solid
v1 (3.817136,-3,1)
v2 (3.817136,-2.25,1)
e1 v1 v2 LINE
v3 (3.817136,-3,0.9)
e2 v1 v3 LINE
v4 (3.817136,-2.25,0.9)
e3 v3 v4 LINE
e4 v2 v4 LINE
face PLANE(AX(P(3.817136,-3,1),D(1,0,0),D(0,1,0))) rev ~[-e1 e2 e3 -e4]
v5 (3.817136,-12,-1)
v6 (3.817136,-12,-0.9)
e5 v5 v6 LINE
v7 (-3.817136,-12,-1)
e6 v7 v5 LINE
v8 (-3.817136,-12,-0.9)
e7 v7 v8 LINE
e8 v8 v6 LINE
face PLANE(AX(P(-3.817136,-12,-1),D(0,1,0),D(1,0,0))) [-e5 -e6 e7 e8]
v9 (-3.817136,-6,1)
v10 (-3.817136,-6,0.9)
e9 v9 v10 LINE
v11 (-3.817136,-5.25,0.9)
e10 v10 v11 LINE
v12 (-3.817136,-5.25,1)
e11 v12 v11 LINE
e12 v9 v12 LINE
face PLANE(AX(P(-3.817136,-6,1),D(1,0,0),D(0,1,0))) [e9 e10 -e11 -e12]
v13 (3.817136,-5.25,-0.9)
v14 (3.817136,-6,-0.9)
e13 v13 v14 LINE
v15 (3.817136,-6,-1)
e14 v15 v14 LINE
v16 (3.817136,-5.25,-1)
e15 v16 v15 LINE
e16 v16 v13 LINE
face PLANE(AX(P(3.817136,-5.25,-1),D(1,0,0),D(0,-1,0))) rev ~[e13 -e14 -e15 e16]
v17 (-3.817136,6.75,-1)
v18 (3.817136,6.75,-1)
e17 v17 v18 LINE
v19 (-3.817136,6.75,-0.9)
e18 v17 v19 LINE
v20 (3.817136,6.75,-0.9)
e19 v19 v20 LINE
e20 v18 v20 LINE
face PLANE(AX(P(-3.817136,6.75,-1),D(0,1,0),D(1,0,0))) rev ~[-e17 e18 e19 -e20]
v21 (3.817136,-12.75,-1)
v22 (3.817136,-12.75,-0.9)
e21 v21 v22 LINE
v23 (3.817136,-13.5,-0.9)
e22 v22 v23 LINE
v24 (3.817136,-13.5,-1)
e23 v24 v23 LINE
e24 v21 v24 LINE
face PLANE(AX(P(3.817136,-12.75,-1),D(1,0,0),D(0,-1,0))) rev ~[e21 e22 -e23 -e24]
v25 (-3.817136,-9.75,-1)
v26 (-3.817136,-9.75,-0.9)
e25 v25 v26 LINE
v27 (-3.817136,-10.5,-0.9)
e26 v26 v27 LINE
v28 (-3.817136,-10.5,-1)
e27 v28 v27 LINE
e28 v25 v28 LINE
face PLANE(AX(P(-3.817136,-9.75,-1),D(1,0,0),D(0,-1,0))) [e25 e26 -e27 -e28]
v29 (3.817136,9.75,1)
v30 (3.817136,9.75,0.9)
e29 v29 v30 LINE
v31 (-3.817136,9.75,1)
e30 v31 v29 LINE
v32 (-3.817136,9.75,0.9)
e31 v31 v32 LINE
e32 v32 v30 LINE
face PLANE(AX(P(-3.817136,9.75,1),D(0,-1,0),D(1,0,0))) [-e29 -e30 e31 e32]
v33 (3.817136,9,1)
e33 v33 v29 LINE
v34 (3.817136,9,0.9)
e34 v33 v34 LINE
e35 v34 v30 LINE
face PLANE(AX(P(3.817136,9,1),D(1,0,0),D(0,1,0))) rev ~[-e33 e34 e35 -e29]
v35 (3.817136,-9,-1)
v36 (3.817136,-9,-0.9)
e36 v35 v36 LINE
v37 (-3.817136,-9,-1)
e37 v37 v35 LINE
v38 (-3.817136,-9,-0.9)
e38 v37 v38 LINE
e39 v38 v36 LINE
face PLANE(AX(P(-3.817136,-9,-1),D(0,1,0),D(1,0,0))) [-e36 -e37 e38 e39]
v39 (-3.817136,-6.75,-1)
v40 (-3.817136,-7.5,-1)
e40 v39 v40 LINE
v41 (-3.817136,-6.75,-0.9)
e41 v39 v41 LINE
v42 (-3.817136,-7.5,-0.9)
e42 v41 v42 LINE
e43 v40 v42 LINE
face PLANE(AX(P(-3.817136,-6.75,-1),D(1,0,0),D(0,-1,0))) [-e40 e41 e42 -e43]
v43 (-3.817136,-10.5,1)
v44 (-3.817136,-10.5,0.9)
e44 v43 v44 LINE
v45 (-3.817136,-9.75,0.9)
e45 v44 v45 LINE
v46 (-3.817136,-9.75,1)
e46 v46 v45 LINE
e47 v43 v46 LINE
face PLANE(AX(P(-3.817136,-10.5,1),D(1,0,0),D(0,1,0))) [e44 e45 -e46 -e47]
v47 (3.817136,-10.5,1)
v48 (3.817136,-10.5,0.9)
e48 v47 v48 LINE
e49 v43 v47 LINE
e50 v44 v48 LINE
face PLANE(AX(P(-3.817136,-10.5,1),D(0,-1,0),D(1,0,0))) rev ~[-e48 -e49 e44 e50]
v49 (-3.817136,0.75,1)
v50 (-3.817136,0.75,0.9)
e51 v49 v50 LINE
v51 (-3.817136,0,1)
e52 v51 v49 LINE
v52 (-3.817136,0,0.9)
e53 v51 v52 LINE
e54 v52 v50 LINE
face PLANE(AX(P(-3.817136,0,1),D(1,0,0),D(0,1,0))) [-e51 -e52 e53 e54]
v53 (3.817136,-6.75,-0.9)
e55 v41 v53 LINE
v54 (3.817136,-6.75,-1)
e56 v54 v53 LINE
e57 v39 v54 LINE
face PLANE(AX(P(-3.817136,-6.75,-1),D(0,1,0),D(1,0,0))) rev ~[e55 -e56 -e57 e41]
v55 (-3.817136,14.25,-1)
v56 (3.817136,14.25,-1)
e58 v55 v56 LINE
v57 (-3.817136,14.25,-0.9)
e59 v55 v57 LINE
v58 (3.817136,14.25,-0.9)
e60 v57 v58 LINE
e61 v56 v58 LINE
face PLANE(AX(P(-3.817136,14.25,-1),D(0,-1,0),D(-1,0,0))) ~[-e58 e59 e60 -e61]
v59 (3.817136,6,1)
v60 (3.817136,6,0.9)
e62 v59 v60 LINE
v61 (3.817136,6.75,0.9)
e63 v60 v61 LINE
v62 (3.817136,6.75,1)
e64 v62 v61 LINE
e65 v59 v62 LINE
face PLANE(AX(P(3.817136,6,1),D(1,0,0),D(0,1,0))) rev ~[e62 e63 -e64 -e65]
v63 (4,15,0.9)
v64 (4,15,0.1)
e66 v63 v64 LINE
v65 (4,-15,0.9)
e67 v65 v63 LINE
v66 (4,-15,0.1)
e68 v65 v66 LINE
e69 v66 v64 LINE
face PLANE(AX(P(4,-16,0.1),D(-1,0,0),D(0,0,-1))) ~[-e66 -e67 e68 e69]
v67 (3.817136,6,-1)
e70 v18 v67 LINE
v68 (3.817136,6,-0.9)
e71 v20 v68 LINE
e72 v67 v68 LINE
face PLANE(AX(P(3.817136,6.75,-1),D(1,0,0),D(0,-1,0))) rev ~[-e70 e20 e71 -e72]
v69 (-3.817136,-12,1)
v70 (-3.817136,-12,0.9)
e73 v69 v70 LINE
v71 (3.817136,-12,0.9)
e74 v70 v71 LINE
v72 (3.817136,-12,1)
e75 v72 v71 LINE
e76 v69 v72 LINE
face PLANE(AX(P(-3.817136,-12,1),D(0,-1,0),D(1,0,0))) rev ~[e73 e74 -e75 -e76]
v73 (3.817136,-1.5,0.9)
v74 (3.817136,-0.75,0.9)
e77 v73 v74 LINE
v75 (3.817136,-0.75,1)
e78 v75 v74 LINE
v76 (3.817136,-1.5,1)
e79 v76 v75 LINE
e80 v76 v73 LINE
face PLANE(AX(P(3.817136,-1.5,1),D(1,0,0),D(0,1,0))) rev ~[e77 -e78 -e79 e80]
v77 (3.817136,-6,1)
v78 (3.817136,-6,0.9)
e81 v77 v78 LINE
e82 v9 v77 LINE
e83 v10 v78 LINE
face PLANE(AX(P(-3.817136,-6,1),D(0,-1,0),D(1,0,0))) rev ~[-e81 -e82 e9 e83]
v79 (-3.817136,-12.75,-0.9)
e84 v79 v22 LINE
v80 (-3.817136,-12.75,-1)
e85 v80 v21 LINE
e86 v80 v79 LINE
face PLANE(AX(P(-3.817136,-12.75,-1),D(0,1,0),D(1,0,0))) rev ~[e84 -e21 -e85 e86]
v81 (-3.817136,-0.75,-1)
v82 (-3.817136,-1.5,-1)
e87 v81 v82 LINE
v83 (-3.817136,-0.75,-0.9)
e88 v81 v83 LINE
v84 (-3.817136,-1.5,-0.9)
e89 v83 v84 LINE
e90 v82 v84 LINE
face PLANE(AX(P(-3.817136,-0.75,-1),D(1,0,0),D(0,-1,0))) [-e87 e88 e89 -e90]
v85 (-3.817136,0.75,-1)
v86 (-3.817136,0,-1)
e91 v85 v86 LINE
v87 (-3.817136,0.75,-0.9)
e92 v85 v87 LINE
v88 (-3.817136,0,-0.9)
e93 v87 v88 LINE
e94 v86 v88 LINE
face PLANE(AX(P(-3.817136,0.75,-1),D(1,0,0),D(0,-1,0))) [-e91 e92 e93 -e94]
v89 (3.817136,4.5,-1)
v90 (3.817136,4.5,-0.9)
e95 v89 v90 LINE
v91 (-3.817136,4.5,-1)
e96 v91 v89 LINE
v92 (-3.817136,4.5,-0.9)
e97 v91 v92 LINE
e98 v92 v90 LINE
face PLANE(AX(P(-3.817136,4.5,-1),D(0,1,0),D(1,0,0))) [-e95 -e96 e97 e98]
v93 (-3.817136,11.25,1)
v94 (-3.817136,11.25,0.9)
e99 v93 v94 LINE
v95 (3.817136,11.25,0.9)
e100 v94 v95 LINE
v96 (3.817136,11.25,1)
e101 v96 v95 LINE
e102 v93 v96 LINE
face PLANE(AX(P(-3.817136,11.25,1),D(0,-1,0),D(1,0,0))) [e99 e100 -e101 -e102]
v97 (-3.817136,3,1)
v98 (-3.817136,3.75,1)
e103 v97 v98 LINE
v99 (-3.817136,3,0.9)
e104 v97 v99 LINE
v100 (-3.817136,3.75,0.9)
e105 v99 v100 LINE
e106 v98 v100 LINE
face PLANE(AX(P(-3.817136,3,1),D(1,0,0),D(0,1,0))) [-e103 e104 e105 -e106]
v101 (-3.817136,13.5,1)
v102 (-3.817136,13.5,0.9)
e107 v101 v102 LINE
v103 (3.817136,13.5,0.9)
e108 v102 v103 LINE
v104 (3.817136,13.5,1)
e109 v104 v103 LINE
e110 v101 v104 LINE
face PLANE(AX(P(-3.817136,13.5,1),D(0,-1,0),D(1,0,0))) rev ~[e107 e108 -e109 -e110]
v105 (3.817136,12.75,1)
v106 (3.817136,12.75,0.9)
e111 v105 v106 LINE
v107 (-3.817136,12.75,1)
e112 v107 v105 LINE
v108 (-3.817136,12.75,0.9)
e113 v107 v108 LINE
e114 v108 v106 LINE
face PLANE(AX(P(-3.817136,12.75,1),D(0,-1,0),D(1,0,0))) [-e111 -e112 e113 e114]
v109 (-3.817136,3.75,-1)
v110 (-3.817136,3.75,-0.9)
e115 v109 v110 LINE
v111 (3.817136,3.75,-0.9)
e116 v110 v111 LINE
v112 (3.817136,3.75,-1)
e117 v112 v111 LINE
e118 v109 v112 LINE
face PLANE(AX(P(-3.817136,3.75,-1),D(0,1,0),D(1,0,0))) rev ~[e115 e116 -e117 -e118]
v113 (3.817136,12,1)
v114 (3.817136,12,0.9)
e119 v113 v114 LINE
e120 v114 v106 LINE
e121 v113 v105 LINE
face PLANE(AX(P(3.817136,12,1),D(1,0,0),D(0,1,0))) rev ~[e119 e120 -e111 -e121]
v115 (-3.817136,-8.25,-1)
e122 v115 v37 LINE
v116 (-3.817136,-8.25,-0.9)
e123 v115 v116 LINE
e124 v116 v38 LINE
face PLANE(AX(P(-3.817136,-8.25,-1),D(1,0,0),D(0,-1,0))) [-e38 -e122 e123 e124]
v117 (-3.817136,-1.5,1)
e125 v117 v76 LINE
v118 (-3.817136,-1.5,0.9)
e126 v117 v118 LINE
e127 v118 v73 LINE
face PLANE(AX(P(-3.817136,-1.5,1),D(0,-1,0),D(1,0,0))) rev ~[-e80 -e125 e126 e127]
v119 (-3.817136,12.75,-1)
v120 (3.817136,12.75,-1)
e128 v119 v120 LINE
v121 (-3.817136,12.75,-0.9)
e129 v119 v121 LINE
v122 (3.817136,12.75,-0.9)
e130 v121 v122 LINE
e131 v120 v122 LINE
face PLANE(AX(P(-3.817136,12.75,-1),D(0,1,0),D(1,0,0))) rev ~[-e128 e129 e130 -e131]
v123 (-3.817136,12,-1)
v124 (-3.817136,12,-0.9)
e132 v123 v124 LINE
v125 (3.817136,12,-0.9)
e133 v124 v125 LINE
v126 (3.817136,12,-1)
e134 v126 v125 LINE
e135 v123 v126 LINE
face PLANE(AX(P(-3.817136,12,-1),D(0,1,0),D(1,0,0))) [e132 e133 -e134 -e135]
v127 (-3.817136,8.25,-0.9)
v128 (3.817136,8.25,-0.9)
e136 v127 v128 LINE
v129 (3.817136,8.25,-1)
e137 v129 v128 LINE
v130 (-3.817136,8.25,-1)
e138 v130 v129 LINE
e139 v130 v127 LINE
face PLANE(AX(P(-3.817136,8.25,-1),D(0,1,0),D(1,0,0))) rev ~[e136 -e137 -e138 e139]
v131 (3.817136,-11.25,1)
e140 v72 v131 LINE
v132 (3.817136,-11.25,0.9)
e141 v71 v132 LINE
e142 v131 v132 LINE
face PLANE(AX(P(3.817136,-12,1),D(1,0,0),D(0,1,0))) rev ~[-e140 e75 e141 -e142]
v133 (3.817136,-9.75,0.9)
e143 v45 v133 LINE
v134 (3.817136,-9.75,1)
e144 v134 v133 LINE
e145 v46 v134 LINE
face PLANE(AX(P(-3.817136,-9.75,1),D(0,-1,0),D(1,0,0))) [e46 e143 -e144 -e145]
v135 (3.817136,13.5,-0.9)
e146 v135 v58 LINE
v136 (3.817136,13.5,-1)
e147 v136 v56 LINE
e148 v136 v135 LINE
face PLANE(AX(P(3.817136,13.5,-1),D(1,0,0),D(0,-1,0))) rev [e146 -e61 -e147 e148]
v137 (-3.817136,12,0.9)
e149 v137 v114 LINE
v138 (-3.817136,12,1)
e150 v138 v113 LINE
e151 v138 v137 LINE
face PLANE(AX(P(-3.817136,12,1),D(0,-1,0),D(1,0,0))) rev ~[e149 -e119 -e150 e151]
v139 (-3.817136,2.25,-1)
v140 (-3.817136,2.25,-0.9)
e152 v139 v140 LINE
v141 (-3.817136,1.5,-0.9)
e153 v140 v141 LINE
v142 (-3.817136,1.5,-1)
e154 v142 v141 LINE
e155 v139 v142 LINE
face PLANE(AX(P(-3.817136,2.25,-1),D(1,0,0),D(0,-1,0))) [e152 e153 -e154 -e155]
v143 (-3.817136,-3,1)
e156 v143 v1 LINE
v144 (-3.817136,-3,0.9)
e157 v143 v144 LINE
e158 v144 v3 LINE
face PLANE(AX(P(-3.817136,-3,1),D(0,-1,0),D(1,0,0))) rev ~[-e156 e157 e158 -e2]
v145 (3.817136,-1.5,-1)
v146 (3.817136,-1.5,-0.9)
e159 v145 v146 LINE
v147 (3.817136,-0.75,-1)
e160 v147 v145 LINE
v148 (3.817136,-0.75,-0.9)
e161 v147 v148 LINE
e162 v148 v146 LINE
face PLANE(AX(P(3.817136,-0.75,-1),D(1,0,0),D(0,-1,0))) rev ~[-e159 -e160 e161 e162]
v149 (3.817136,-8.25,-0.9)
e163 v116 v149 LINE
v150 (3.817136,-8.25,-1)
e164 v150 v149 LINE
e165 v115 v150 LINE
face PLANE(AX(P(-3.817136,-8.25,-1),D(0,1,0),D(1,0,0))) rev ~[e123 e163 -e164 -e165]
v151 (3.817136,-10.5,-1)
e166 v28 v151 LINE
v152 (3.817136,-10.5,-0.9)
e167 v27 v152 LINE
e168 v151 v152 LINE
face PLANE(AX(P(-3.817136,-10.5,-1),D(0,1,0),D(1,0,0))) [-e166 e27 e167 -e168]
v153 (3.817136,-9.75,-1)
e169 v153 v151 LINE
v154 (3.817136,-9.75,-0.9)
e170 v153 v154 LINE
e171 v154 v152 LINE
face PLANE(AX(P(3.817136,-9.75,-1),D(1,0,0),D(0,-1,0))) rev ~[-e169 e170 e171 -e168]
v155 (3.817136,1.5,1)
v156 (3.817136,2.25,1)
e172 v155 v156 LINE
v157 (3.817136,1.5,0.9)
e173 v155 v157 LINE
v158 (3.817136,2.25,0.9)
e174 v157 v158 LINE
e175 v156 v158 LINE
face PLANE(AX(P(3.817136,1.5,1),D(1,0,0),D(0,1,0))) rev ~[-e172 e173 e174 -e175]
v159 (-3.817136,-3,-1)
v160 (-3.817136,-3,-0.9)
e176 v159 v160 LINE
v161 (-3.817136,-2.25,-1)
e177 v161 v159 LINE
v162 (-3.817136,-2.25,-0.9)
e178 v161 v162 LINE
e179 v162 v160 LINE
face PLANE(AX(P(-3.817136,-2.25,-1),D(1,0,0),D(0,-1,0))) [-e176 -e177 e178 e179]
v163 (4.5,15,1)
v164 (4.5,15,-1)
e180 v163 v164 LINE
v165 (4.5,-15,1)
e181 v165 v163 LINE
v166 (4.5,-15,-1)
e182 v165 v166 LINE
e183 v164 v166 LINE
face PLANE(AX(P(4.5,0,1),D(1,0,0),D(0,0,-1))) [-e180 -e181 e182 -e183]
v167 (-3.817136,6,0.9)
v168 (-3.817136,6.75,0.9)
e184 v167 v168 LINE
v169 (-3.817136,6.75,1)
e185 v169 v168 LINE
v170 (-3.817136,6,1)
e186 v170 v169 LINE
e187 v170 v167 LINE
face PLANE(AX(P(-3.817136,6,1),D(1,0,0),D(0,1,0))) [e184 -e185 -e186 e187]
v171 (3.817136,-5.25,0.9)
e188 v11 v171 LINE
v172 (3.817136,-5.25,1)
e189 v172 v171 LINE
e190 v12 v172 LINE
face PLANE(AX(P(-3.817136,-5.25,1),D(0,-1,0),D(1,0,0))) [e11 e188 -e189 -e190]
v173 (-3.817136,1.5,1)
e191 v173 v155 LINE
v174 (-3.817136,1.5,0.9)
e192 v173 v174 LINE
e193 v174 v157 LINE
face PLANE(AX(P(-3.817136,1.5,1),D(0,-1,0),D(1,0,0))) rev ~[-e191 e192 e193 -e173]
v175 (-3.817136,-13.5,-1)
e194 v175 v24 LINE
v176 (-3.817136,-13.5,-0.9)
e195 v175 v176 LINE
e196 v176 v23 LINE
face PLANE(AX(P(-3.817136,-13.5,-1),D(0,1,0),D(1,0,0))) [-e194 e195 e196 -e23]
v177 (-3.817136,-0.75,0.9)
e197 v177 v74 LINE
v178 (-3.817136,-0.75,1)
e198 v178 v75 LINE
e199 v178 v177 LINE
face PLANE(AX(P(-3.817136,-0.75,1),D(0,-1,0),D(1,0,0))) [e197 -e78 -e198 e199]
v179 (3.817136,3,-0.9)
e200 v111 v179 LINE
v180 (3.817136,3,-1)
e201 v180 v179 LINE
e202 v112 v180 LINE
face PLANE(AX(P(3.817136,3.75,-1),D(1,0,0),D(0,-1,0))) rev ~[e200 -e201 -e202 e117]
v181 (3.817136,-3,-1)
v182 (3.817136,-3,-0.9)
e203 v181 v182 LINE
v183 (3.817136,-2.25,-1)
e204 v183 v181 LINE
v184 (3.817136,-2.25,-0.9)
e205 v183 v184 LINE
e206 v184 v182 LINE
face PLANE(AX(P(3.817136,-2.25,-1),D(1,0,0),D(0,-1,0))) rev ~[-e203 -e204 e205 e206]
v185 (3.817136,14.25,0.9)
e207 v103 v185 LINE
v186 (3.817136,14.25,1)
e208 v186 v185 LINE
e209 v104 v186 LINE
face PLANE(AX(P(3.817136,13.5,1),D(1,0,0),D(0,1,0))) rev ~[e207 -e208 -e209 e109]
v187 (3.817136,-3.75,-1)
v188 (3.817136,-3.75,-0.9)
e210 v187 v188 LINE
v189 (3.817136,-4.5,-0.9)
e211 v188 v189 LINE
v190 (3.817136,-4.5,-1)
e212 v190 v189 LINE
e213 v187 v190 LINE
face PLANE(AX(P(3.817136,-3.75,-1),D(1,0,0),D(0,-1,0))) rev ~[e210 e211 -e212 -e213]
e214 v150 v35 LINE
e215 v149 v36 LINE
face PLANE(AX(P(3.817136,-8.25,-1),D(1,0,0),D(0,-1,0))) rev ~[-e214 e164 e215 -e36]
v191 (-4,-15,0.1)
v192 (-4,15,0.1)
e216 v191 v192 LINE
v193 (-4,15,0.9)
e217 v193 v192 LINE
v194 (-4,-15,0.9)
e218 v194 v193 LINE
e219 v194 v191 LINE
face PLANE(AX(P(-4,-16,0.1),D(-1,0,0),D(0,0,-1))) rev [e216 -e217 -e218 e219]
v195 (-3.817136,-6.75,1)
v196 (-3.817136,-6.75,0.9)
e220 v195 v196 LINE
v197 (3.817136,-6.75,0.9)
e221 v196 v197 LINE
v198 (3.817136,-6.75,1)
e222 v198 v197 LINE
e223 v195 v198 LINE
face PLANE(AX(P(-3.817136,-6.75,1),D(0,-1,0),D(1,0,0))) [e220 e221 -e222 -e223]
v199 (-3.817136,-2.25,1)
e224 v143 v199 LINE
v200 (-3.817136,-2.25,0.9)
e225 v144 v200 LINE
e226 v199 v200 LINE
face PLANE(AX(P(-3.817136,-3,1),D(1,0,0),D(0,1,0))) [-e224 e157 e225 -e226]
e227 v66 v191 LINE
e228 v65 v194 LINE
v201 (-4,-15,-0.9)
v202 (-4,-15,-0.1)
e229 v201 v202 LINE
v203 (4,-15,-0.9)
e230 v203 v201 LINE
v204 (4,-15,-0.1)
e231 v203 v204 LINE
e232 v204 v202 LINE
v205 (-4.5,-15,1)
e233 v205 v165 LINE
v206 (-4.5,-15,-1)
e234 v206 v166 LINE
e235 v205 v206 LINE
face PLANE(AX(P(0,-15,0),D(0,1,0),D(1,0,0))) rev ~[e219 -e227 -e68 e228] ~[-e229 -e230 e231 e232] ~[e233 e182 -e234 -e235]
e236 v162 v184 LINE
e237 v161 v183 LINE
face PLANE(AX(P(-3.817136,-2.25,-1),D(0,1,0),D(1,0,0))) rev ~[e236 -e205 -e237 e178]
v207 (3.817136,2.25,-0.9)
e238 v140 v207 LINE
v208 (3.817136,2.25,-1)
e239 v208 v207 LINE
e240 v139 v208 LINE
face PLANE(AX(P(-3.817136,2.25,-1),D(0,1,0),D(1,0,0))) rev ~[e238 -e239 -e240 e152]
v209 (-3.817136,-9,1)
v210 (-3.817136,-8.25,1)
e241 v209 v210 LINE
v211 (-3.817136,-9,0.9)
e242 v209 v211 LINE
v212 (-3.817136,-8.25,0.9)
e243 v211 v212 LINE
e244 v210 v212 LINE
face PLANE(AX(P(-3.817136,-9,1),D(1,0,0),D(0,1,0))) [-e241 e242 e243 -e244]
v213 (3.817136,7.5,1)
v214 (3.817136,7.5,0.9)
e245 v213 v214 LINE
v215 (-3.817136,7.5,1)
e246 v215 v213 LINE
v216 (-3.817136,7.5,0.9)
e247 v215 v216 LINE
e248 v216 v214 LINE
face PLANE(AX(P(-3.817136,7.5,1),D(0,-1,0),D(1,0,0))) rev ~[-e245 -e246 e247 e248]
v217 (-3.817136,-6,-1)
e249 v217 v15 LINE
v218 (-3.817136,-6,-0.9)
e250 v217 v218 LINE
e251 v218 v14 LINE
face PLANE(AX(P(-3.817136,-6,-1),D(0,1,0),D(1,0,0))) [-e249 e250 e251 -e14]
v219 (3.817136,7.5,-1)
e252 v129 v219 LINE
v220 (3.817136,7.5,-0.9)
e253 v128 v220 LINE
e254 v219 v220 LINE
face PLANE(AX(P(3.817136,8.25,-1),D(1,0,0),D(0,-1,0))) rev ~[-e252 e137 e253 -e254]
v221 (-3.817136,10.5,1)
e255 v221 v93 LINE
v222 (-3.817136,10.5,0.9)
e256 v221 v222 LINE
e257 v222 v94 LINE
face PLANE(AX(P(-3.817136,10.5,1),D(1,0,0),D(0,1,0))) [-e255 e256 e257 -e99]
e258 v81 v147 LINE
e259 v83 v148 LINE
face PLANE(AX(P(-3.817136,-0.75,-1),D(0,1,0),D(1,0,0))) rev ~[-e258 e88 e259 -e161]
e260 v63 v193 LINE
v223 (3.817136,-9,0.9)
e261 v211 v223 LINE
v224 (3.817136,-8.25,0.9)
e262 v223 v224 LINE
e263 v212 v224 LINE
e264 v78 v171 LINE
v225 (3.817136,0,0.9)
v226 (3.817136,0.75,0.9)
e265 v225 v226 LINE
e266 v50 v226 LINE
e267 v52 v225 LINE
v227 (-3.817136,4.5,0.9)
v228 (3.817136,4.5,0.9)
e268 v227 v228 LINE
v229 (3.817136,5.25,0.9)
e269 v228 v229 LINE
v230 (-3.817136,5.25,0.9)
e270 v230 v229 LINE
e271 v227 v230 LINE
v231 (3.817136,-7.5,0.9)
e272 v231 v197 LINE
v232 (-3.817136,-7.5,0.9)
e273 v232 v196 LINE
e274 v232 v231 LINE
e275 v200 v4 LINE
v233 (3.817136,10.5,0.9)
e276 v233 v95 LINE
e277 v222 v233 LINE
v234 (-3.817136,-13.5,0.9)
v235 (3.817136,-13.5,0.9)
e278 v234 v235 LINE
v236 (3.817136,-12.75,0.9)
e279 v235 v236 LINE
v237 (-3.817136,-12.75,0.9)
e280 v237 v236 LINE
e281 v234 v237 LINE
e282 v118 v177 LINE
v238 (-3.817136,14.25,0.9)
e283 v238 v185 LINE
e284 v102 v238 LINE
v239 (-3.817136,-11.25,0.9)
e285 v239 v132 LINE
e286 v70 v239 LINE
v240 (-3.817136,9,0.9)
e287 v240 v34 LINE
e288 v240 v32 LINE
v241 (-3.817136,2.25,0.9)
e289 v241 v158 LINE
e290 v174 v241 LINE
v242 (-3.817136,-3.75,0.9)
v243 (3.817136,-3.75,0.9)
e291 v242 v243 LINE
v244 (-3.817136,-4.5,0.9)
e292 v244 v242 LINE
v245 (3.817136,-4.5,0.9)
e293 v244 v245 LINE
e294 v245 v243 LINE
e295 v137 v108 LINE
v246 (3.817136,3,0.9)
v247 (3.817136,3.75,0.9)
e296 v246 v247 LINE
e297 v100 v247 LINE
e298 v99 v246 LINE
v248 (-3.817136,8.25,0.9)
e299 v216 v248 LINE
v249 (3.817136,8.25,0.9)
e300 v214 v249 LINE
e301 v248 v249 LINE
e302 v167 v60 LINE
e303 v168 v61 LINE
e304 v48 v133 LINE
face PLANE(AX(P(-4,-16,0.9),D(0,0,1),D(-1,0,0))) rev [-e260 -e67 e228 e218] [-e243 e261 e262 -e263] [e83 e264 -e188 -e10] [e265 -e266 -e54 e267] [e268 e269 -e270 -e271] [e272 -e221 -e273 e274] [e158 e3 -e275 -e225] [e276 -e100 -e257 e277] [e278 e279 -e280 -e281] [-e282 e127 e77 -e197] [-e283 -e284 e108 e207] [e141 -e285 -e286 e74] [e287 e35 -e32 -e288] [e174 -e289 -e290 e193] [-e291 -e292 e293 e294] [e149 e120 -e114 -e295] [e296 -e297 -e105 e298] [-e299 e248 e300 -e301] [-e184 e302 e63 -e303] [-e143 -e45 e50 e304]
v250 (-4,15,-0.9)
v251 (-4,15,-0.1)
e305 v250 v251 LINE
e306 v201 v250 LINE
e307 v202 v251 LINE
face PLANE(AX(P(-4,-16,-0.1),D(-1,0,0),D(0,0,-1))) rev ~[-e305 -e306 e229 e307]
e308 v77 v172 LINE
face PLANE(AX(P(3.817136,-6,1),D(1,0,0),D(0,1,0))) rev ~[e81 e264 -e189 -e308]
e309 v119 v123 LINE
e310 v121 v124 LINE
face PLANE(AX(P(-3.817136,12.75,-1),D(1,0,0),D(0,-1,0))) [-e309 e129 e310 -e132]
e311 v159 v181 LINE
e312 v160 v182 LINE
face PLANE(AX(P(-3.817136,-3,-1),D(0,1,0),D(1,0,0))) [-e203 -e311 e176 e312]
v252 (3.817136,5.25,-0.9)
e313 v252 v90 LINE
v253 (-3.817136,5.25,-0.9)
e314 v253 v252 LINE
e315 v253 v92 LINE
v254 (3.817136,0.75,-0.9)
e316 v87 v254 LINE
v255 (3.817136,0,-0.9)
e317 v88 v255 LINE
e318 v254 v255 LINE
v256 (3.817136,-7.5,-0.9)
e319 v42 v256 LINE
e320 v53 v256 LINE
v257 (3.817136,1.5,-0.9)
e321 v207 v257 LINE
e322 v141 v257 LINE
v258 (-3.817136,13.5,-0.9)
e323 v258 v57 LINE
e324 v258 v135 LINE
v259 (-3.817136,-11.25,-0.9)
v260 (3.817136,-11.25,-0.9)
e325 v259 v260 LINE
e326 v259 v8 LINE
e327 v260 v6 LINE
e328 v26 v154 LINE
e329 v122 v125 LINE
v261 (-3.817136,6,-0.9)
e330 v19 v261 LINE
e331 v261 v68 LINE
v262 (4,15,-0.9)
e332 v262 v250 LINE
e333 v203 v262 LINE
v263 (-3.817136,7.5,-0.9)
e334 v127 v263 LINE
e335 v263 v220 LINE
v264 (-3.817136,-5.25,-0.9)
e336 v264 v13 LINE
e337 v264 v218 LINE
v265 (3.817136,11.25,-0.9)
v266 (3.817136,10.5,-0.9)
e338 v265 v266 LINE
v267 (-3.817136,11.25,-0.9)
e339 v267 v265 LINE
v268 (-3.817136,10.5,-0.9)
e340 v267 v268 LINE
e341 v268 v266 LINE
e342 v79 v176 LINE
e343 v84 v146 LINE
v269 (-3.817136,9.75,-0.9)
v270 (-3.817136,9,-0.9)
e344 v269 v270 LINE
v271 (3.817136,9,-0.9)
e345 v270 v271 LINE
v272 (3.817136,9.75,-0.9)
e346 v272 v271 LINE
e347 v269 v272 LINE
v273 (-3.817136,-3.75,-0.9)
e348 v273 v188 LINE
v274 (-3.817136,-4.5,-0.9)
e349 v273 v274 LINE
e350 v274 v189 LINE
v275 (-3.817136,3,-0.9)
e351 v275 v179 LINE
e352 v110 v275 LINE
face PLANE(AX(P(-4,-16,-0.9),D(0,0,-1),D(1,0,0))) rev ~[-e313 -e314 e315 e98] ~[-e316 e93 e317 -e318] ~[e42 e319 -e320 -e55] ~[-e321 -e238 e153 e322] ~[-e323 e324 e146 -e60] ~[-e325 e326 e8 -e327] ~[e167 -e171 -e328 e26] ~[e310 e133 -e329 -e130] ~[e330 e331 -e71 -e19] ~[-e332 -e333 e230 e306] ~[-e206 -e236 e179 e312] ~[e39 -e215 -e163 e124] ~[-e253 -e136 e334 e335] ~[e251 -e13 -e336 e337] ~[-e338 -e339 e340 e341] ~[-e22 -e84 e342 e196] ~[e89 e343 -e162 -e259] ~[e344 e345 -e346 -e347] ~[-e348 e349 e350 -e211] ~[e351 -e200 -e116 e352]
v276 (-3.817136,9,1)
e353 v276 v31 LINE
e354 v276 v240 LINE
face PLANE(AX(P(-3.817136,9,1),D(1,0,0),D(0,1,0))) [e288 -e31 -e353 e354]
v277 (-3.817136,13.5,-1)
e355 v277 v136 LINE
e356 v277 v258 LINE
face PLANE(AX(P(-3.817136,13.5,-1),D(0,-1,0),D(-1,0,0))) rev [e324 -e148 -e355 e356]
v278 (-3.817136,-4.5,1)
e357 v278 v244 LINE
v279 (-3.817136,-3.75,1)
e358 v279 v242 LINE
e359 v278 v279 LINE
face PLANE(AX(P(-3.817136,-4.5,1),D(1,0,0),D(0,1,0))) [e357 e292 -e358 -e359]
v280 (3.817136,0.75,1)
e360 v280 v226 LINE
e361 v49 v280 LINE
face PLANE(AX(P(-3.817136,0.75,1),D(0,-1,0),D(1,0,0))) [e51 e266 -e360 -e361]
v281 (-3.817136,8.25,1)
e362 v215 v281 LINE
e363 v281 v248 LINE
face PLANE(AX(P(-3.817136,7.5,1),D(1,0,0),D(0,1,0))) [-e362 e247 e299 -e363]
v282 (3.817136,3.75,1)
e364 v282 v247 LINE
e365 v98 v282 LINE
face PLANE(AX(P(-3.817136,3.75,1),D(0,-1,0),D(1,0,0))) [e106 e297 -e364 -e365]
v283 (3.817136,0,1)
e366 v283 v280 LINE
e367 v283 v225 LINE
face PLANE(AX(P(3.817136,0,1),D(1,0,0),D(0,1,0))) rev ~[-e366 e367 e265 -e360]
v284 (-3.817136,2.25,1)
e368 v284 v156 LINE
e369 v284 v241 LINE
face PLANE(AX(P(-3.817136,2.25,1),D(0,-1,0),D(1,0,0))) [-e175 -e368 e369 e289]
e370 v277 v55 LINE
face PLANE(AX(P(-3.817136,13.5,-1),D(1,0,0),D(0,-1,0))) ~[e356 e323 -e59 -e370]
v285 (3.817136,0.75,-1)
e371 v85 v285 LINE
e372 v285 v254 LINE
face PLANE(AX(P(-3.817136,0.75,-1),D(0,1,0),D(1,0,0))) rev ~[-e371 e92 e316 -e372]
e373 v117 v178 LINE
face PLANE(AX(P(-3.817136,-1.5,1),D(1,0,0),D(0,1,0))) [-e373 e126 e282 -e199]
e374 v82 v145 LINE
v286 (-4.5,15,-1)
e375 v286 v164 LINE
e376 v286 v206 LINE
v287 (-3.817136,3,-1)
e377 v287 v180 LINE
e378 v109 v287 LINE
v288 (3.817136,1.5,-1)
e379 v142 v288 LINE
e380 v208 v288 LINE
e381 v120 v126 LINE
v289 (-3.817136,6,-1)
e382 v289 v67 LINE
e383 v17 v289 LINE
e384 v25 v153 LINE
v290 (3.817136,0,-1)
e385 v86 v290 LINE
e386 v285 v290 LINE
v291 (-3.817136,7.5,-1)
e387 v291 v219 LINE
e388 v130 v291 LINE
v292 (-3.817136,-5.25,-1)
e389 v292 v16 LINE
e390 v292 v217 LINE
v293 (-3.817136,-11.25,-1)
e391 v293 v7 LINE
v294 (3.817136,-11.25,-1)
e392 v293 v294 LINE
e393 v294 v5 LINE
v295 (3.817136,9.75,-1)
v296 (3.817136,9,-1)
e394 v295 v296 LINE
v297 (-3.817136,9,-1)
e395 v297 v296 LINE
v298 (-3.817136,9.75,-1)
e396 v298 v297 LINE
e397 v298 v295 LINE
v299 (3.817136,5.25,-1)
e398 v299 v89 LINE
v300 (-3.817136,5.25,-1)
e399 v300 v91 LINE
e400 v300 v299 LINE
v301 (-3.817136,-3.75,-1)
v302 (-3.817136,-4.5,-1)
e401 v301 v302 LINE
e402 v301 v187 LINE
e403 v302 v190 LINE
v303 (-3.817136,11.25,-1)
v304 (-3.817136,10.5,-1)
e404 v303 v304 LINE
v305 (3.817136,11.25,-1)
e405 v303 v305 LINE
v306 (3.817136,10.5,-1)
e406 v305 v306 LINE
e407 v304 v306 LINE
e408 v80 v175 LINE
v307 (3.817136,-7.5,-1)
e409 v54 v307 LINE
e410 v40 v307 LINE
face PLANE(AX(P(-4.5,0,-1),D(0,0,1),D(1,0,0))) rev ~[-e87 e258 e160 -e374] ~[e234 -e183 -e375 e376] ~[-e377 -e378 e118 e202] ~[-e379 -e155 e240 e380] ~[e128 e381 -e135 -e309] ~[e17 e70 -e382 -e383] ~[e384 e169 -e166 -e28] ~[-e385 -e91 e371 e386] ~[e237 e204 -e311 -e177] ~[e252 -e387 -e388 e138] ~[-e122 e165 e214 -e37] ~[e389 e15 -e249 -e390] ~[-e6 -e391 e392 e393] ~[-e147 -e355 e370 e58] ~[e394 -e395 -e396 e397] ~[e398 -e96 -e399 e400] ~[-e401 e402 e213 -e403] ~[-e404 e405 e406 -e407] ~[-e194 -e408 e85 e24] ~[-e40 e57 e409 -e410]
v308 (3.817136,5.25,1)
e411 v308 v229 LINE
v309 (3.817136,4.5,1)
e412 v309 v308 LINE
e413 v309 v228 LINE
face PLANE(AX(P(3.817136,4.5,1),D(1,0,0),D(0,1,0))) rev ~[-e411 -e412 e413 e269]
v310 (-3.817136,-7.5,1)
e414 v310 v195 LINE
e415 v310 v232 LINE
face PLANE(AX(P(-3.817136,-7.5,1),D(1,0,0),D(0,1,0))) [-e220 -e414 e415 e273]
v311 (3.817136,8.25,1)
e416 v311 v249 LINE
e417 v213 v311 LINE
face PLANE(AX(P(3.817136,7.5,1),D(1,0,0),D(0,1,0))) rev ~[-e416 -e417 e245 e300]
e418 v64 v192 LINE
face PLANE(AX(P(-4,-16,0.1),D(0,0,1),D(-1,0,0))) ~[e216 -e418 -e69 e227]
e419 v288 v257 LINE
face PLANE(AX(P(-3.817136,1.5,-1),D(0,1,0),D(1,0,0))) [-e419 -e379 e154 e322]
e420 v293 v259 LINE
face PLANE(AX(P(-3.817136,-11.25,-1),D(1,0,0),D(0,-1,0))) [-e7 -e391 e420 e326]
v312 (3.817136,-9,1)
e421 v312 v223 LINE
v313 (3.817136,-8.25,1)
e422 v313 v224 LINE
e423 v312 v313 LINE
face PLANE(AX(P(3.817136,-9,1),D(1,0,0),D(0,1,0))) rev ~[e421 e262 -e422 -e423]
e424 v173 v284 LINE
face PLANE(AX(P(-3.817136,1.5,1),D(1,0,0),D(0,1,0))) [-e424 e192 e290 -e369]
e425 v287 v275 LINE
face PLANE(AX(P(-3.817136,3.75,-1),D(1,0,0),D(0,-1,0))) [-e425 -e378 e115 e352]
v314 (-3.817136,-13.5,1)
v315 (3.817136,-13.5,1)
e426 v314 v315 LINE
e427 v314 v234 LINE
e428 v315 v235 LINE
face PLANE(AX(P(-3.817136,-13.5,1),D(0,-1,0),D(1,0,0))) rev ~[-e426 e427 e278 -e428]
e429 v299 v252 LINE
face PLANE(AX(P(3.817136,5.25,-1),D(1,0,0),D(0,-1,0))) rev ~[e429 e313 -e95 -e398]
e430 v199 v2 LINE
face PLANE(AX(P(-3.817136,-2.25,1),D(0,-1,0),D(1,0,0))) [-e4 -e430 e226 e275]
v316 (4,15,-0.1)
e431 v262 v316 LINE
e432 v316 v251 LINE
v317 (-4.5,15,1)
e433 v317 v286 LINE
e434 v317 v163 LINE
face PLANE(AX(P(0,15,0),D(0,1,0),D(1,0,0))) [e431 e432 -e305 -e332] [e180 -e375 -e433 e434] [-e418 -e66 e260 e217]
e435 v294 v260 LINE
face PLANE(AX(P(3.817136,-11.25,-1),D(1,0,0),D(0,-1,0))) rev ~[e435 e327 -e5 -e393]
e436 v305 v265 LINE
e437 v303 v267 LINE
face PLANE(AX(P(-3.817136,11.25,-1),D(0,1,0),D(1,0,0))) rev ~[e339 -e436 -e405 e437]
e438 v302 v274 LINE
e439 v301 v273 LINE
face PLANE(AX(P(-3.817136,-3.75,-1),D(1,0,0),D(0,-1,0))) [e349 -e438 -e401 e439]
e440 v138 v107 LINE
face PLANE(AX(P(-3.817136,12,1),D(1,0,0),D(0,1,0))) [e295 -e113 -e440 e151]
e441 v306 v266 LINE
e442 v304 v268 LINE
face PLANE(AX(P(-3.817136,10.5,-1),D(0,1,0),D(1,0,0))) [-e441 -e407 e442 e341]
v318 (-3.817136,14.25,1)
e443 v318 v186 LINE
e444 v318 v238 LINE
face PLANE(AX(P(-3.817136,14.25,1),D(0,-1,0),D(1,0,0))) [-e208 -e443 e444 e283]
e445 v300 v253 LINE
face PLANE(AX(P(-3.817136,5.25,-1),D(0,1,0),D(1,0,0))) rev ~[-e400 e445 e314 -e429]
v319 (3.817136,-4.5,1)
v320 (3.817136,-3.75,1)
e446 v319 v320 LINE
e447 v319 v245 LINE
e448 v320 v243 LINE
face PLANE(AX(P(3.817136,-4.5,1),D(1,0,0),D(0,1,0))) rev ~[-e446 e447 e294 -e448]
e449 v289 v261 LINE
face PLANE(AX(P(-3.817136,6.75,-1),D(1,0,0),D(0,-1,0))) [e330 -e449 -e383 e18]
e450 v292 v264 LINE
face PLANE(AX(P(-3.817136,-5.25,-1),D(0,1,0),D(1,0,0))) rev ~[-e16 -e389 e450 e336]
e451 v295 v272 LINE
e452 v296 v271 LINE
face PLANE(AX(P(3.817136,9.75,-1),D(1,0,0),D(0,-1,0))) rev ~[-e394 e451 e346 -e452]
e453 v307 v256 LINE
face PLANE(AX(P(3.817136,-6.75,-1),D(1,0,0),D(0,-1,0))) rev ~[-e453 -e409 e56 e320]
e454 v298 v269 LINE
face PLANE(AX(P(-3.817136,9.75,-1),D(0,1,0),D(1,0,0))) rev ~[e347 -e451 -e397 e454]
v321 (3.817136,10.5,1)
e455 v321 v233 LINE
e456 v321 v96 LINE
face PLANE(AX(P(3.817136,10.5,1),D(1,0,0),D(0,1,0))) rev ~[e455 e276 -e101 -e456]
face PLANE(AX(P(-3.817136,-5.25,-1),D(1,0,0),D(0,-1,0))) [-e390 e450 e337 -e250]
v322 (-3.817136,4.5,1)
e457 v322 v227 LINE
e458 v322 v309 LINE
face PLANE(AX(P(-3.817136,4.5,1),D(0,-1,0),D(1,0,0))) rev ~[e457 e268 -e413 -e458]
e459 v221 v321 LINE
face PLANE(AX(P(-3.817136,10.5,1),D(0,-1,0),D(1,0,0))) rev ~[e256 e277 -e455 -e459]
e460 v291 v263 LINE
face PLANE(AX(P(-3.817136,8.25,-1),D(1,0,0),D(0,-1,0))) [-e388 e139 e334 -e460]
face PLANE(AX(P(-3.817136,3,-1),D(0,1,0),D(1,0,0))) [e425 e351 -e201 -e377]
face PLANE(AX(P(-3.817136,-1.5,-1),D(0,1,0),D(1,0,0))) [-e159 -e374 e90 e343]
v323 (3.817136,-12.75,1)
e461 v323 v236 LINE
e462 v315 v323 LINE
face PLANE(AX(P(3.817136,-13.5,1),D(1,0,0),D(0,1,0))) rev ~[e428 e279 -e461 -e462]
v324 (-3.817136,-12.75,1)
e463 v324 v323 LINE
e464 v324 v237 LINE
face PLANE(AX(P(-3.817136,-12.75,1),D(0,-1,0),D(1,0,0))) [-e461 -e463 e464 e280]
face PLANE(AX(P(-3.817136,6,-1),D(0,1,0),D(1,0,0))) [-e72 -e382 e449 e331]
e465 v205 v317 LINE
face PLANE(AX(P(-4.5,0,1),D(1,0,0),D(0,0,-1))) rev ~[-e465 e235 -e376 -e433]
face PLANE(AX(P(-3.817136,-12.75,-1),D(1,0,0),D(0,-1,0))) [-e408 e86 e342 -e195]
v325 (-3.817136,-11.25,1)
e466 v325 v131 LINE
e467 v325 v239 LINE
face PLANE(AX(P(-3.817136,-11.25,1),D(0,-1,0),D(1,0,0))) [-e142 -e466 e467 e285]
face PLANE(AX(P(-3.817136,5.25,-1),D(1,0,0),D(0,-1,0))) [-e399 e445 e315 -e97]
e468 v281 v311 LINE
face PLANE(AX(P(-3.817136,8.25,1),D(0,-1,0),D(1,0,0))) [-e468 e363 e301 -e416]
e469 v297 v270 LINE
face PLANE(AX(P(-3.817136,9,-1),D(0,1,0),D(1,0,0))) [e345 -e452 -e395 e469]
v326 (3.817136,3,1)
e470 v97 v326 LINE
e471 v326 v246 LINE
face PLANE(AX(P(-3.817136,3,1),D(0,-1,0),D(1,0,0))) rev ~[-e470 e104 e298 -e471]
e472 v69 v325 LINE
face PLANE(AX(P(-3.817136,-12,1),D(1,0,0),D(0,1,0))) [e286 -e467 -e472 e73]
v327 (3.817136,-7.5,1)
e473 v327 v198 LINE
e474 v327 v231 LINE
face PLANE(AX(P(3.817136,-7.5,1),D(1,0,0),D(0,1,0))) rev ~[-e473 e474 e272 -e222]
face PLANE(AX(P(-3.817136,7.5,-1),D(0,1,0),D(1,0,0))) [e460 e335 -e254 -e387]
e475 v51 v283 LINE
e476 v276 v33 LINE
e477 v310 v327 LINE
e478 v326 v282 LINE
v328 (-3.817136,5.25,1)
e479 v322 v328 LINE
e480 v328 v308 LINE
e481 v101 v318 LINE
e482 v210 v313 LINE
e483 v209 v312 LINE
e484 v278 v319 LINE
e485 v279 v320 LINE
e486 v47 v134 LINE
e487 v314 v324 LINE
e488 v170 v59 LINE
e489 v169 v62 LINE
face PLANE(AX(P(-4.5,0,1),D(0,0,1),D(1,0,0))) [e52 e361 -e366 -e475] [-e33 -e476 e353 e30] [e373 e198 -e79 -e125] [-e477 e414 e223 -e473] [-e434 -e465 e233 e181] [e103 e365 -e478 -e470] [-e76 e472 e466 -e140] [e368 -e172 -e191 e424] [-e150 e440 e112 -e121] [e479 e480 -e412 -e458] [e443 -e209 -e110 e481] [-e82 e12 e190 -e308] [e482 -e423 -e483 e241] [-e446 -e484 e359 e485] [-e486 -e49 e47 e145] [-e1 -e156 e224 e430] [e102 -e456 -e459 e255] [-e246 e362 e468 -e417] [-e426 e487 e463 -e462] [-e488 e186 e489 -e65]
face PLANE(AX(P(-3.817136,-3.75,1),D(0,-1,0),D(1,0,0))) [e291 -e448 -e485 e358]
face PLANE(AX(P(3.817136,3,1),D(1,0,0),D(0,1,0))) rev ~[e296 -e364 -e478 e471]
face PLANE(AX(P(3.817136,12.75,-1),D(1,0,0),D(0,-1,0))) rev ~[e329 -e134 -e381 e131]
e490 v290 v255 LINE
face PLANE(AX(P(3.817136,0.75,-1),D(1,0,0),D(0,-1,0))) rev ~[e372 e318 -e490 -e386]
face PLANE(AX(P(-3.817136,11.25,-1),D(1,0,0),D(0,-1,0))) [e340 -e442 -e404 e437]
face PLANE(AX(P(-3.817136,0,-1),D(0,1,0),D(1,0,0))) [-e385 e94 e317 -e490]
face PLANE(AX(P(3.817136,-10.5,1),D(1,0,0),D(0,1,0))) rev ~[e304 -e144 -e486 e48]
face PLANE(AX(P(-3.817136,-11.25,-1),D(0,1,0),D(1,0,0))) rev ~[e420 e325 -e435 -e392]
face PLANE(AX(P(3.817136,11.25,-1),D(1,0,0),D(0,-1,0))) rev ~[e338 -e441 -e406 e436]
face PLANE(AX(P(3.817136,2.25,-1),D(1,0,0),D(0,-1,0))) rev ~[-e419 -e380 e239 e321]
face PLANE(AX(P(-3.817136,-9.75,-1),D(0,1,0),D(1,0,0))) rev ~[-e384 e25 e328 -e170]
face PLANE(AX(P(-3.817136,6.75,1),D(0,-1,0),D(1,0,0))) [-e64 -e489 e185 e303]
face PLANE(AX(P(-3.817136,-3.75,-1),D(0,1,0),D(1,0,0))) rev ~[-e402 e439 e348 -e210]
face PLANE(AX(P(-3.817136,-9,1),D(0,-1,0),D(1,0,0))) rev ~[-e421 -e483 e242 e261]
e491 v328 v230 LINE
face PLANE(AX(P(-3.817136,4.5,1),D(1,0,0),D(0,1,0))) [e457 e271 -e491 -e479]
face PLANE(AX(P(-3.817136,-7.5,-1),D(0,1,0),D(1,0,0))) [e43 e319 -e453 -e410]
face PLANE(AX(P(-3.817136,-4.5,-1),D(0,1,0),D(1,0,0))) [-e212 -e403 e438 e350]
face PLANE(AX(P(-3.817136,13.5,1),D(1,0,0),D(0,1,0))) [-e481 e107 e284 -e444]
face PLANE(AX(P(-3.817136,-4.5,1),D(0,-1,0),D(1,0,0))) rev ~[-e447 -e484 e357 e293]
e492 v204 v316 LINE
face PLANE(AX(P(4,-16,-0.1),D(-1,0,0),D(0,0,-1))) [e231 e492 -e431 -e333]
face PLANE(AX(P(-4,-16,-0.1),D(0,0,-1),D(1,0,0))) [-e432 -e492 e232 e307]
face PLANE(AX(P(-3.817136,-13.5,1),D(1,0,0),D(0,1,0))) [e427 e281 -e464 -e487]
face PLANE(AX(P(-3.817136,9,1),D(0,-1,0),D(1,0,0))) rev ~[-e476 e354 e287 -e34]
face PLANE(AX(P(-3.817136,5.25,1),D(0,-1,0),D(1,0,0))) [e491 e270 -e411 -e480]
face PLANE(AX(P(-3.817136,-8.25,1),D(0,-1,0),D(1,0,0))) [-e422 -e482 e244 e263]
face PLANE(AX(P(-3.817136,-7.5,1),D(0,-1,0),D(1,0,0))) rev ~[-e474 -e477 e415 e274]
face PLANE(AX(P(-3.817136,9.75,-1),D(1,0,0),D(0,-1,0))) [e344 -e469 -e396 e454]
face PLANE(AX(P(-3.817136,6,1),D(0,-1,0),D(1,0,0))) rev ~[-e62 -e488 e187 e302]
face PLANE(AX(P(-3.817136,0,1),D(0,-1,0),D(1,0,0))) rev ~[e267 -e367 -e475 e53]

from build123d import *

# Parameters (mm, degrees)
SKETCH1_W                = 9
SKETCH1_H                = 2
BOSS_EXTRUDE1_DEPTH      = 15
CUT_EXTRUDE1_START       = -31
SKETCH2_W                = 8
SKETCH2_H                = 0.8
CUT_EXTRUDE1_DEPTH       = 32
SKETCH3_W                = 7.634272068
SKETCH3_H                = 0.75
CUT_EXTRUDE2_DEPTH       = 0.1
LPATTERN1_COUNT          = 19
LPATTERN1_PITCH          = 1.5
MIRROR2_COPY_1_SKETCH_W  = 7.634272068
MIRROR2_COPY_1_SKETCH_H  = 0.75
MIRROR2_COPY_1_DEPTH     = 0.1
MIRROR2_COPY_2_SKETCH_W  = 7.634272068
MIRROR2_COPY_2_SKETCH_H  = 0.75
MIRROR2_COPY_2_DEPTH     = 0.1
MIRROR2_COPY_3_SKETCH_W  = 7.634272068
MIRROR2_COPY_3_SKETCH_H  = 0.75
MIRROR2_COPY_3_DEPTH     = 0.1
MIRROR2_COPY_4_SKETCH_W  = 7.634272068
MIRROR2_COPY_4_SKETCH_H  = 0.75
MIRROR2_COPY_4_DEPTH     = 0.1
MIRROR2_COPY_5_SKETCH_W  = 7.634272068
MIRROR2_COPY_5_SKETCH_H  = 0.75
MIRROR2_COPY_5_DEPTH     = 0.1
MIRROR2_COPY_6_SKETCH_W  = 7.634272068
MIRROR2_COPY_6_SKETCH_H  = 0.75
MIRROR2_COPY_6_DEPTH     = 0.1
MIRROR2_COPY_7_SKETCH_W  = 7.634272068
MIRROR2_COPY_7_SKETCH_H  = 0.75
MIRROR2_COPY_7_DEPTH     = 0.1
MIRROR2_COPY_8_SKETCH_W  = 7.634272068
MIRROR2_COPY_8_SKETCH_H  = 0.75
MIRROR2_COPY_8_DEPTH     = 0.1
MIRROR2_COPY_9_SKETCH_W  = 7.634272068
MIRROR2_COPY_9_SKETCH_H  = 0.75
MIRROR2_COPY_9_DEPTH     = 0.1
MIRROR2_COPY_10_SKETCH_W = 7.634272068
MIRROR2_COPY_10_SKETCH_H = 0.75
MIRROR2_COPY_10_DEPTH    = 0.1
MIRROR2_COPY_11_SKETCH_W = 7.634272068
MIRROR2_COPY_11_SKETCH_H = 0.75
MIRROR2_COPY_11_DEPTH    = 0.1
MIRROR2_COPY_12_SKETCH_W = 7.634272068
MIRROR2_COPY_12_SKETCH_H = 0.75
MIRROR2_COPY_12_DEPTH    = 0.1
MIRROR2_COPY_13_SKETCH_W = 7.634272068
MIRROR2_COPY_13_SKETCH_H = 0.75
MIRROR2_COPY_13_DEPTH    = 0.1
MIRROR2_COPY_14_SKETCH_W = 7.634272068
MIRROR2_COPY_14_SKETCH_H = 0.75
MIRROR2_COPY_14_DEPTH    = 0.1
MIRROR2_COPY_15_SKETCH_W = 7.634272068
MIRROR2_COPY_15_SKETCH_H = 0.75
MIRROR2_COPY_15_DEPTH    = 0.1
MIRROR2_COPY_16_SKETCH_W = 7.634272068
MIRROR2_COPY_16_SKETCH_H = 0.75
MIRROR2_COPY_16_DEPTH    = 0.1
MIRROR2_COPY_17_SKETCH_W = 7.634272068
MIRROR2_COPY_17_SKETCH_H = 0.75
MIRROR2_COPY_17_DEPTH    = 0.1
MIRROR2_COPY_18_SKETCH_W = 7.634272068
MIRROR2_COPY_18_SKETCH_H = 0.75
MIRROR2_COPY_18_DEPTH    = 0.1


with BuildPart() as part:
    # Sketch1 → Boss-Extrude1 (new body, symmetric)
    with BuildSketch(Plane(origin=(0, 0, 0), x_dir=(1, 0, 0), z_dir=(0, 1, 0))):
        Rectangle(SKETCH1_W, SKETCH1_H)
    extrude(amount=BOSS_EXTRUDE1_DEPTH, both=True)

    # Sketch2 → Cut-Extrude1 (cut)
    with BuildSketch(Plane(origin=(0, 15, 0), x_dir=(1, 0, 0), z_dir=(0, 1, 0)).offset(CUT_EXTRUDE1_START)):
        with Locations((0, 0.5)):
            Rectangle(SKETCH2_W, SKETCH2_H)
    cut_extrude1 = extrude(amount=CUT_EXTRUDE1_DEPTH, mode=Mode.SUBTRACT)

    # Mirror1: Cut-Extrude1 across plane
    add(cut_extrude1.mirror(Plane.XY), mode=Mode.SUBTRACT)

    # Sketch3 → Cut-Extrude2 (cut)
    with BuildSketch(Plane.XY.offset(1)):
        with Locations((0, 13.875)):
            Rectangle(SKETCH3_W, SKETCH3_H)
    cut_extrude2 = extrude(amount=-CUT_EXTRUDE2_DEPTH, mode=Mode.SUBTRACT)

    # LPattern1: Cut-Extrude2 ×19
    with Locations(*[(0, -i * LPATTERN1_PITCH, 0) for i in range(1, LPATTERN1_COUNT)]):
        add(cut_extrude2, mode=Mode.SUBTRACT)

    # Mirror2: Cut-Extrude2 across plane
    add(cut_extrude2.mirror(Plane.XY), mode=Mode.SUBTRACT)

    # Mirror2 copy 1 sketch → Mirror2 copy 1 (cut)
    with BuildSketch(Plane(origin=(0, -1.5, -1), x_dir=(1, 0, 0), z_dir=(0, 0, -1))):
        with Locations((0, -13.875)):
            Rectangle(MIRROR2_COPY_1_SKETCH_W, MIRROR2_COPY_1_SKETCH_H)
    extrude(amount=-MIRROR2_COPY_1_DEPTH, mode=Mode.SUBTRACT)

    # Mirror2 copy 2 sketch → Mirror2 copy 2 (cut)
    with BuildSketch(Plane(origin=(0, -3, -1), x_dir=(1, 0, 0), z_dir=(0, 0, -1))):
        with Locations((0, -13.875)):
            Rectangle(MIRROR2_COPY_2_SKETCH_W, MIRROR2_COPY_2_SKETCH_H)
    extrude(amount=-MIRROR2_COPY_2_DEPTH, mode=Mode.SUBTRACT)

    # Mirror2 copy 3 sketch → Mirror2 copy 3 (cut)
    with BuildSketch(Plane(origin=(0, -4.5, -1), x_dir=(1, 0, 0), z_dir=(0, 0, -1))):
        with Locations((0, -13.875)):
            Rectangle(MIRROR2_COPY_3_SKETCH_W, MIRROR2_COPY_3_SKETCH_H)
    extrude(amount=-MIRROR2_COPY_3_DEPTH, mode=Mode.SUBTRACT)

    # Mirror2 copy 4 sketch → Mirror2 copy 4 (cut)
    with BuildSketch(Plane(origin=(0, -6, -1), x_dir=(1, 0, 0), z_dir=(0, 0, -1))):
        with Locations((0, -13.875)):
            Rectangle(MIRROR2_COPY_4_SKETCH_W, MIRROR2_COPY_4_SKETCH_H)
    extrude(amount=-MIRROR2_COPY_4_DEPTH, mode=Mode.SUBTRACT)

    # Mirror2 copy 5 sketch → Mirror2 copy 5 (cut)
    with BuildSketch(Plane(origin=(0, -7.5, -1), x_dir=(1, 0, 0), z_dir=(0, 0, -1))):
        with Locations((0, -13.875)):
            Rectangle(MIRROR2_COPY_5_SKETCH_W, MIRROR2_COPY_5_SKETCH_H)
    extrude(amount=-MIRROR2_COPY_5_DEPTH, mode=Mode.SUBTRACT)

    # Mirror2 copy 6 sketch → Mirror2 copy 6 (cut)
    with BuildSketch(Plane(origin=(0, -9, -1), x_dir=(1, 0, 0), z_dir=(0, 0, -1))):
        with Locations((0, -13.875)):
            Rectangle(MIRROR2_COPY_6_SKETCH_W, MIRROR2_COPY_6_SKETCH_H)
    extrude(amount=-MIRROR2_COPY_6_DEPTH, mode=Mode.SUBTRACT)

    # Mirror2 copy 7 sketch → Mirror2 copy 7 (cut)
    with BuildSketch(Plane(origin=(0, -10.5, -1), x_dir=(1, 0, 0), z_dir=(0, 0, -1))):
        with Locations((0, -13.875)):
            Rectangle(MIRROR2_COPY_7_SKETCH_W, MIRROR2_COPY_7_SKETCH_H)
    extrude(amount=-MIRROR2_COPY_7_DEPTH, mode=Mode.SUBTRACT)

    # Mirror2 copy 8 sketch → Mirror2 copy 8 (cut)
    with BuildSketch(Plane(origin=(0, -12, -1), x_dir=(1, 0, 0), z_dir=(0, 0, -1))):
        with Locations((0, -13.875)):
            Rectangle(MIRROR2_COPY_8_SKETCH_W, MIRROR2_COPY_8_SKETCH_H)
    extrude(amount=-MIRROR2_COPY_8_DEPTH, mode=Mode.SUBTRACT)

    # Mirror2 copy 9 sketch → Mirror2 copy 9 (cut)
    with BuildSketch(Plane(origin=(0, -13.5, -1), x_dir=(1, 0, 0), z_dir=(0, 0, -1))):
        with Locations((0, -13.875)):
            Rectangle(MIRROR2_COPY_9_SKETCH_W, MIRROR2_COPY_9_SKETCH_H)
    extrude(amount=-MIRROR2_COPY_9_DEPTH, mode=Mode.SUBTRACT)

    # Mirror2 copy 10 sketch → Mirror2 copy 10 (cut)
    with BuildSketch(Plane(origin=(0, -15, -1), x_dir=(1, 0, 0), z_dir=(0, 0, -1))):
        with Locations((0, -13.875)):
            Rectangle(MIRROR2_COPY_10_SKETCH_W, MIRROR2_COPY_10_SKETCH_H)
    extrude(amount=-MIRROR2_COPY_10_DEPTH, mode=Mode.SUBTRACT)

    # Mirror2 copy 11 sketch → Mirror2 copy 11 (cut)
    with BuildSketch(Plane(origin=(0, -16.5, -1), x_dir=(1, 0, 0), z_dir=(0, 0, -1))):
        with Locations((0, -13.875)):
            Rectangle(MIRROR2_COPY_11_SKETCH_W, MIRROR2_COPY_11_SKETCH_H)
    extrude(amount=-MIRROR2_COPY_11_DEPTH, mode=Mode.SUBTRACT)

    # Mirror2 copy 12 sketch → Mirror2 copy 12 (cut)
    with BuildSketch(Plane(origin=(0, -18, -1), x_dir=(1, 0, 0), z_dir=(0, 0, -1))):
        with Locations((0, -13.875)):
            Rectangle(MIRROR2_COPY_12_SKETCH_W, MIRROR2_COPY_12_SKETCH_H)
    extrude(amount=-MIRROR2_COPY_12_DEPTH, mode=Mode.SUBTRACT)

    # Mirror2 copy 13 sketch → Mirror2 copy 13 (cut)
    with BuildSketch(Plane(origin=(0, -19.5, -1), x_dir=(1, 0, 0), z_dir=(0, 0, -1))):
        with Locations((0, -13.875)):
            Rectangle(MIRROR2_COPY_13_SKETCH_W, MIRROR2_COPY_13_SKETCH_H)
    extrude(amount=-MIRROR2_COPY_13_DEPTH, mode=Mode.SUBTRACT)

    # Mirror2 copy 14 sketch → Mirror2 copy 14 (cut)
    with BuildSketch(Plane(origin=(0, -21, -1), x_dir=(1, 0, 0), z_dir=(0, 0, -1))):
        with Locations((0, -13.875)):
            Rectangle(MIRROR2_COPY_14_SKETCH_W, MIRROR2_COPY_14_SKETCH_H)
    extrude(amount=-MIRROR2_COPY_14_DEPTH, mode=Mode.SUBTRACT)

    # Mirror2 copy 15 sketch → Mirror2 copy 15 (cut)
    with BuildSketch(Plane(origin=(0, -22.5, -1), x_dir=(1, 0, 0), z_dir=(0, 0, -1))):
        with Locations((0, -13.875)):
            Rectangle(MIRROR2_COPY_15_SKETCH_W, MIRROR2_COPY_15_SKETCH_H)
    extrude(amount=-MIRROR2_COPY_15_DEPTH, mode=Mode.SUBTRACT)

    # Mirror2 copy 16 sketch → Mirror2 copy 16 (cut)
    with BuildSketch(Plane(origin=(0, -24, -1), x_dir=(1, 0, 0), z_dir=(0, 0, -1))):
        with Locations((0, -13.875)):
            Rectangle(MIRROR2_COPY_16_SKETCH_W, MIRROR2_COPY_16_SKETCH_H)
    extrude(amount=-MIRROR2_COPY_16_DEPTH, mode=Mode.SUBTRACT)

    # Mirror2 copy 17 sketch → Mirror2 copy 17 (cut)
    with BuildSketch(Plane(origin=(0, -25.5, -1), x_dir=(1, 0, 0), z_dir=(0, 0, -1))):
        with Locations((0, -13.875)):
            Rectangle(MIRROR2_COPY_17_SKETCH_W, MIRROR2_COPY_17_SKETCH_H)
    extrude(amount=-MIRROR2_COPY_17_DEPTH, mode=Mode.SUBTRACT)

    # Mirror2 copy 18 sketch → Mirror2 copy 18 (cut)
    with BuildSketch(Plane(origin=(0, -27, -1), x_dir=(1, 0, 0), z_dir=(0, 0, -1))):
        with Locations((0, -13.875)):
            Rectangle(MIRROR2_COPY_18_SKETCH_W, MIRROR2_COPY_18_SKETCH_H)
    extrude(amount=-MIRROR2_COPY_18_DEPTH, mode=Mode.SUBTRACT)


solid = part.part
